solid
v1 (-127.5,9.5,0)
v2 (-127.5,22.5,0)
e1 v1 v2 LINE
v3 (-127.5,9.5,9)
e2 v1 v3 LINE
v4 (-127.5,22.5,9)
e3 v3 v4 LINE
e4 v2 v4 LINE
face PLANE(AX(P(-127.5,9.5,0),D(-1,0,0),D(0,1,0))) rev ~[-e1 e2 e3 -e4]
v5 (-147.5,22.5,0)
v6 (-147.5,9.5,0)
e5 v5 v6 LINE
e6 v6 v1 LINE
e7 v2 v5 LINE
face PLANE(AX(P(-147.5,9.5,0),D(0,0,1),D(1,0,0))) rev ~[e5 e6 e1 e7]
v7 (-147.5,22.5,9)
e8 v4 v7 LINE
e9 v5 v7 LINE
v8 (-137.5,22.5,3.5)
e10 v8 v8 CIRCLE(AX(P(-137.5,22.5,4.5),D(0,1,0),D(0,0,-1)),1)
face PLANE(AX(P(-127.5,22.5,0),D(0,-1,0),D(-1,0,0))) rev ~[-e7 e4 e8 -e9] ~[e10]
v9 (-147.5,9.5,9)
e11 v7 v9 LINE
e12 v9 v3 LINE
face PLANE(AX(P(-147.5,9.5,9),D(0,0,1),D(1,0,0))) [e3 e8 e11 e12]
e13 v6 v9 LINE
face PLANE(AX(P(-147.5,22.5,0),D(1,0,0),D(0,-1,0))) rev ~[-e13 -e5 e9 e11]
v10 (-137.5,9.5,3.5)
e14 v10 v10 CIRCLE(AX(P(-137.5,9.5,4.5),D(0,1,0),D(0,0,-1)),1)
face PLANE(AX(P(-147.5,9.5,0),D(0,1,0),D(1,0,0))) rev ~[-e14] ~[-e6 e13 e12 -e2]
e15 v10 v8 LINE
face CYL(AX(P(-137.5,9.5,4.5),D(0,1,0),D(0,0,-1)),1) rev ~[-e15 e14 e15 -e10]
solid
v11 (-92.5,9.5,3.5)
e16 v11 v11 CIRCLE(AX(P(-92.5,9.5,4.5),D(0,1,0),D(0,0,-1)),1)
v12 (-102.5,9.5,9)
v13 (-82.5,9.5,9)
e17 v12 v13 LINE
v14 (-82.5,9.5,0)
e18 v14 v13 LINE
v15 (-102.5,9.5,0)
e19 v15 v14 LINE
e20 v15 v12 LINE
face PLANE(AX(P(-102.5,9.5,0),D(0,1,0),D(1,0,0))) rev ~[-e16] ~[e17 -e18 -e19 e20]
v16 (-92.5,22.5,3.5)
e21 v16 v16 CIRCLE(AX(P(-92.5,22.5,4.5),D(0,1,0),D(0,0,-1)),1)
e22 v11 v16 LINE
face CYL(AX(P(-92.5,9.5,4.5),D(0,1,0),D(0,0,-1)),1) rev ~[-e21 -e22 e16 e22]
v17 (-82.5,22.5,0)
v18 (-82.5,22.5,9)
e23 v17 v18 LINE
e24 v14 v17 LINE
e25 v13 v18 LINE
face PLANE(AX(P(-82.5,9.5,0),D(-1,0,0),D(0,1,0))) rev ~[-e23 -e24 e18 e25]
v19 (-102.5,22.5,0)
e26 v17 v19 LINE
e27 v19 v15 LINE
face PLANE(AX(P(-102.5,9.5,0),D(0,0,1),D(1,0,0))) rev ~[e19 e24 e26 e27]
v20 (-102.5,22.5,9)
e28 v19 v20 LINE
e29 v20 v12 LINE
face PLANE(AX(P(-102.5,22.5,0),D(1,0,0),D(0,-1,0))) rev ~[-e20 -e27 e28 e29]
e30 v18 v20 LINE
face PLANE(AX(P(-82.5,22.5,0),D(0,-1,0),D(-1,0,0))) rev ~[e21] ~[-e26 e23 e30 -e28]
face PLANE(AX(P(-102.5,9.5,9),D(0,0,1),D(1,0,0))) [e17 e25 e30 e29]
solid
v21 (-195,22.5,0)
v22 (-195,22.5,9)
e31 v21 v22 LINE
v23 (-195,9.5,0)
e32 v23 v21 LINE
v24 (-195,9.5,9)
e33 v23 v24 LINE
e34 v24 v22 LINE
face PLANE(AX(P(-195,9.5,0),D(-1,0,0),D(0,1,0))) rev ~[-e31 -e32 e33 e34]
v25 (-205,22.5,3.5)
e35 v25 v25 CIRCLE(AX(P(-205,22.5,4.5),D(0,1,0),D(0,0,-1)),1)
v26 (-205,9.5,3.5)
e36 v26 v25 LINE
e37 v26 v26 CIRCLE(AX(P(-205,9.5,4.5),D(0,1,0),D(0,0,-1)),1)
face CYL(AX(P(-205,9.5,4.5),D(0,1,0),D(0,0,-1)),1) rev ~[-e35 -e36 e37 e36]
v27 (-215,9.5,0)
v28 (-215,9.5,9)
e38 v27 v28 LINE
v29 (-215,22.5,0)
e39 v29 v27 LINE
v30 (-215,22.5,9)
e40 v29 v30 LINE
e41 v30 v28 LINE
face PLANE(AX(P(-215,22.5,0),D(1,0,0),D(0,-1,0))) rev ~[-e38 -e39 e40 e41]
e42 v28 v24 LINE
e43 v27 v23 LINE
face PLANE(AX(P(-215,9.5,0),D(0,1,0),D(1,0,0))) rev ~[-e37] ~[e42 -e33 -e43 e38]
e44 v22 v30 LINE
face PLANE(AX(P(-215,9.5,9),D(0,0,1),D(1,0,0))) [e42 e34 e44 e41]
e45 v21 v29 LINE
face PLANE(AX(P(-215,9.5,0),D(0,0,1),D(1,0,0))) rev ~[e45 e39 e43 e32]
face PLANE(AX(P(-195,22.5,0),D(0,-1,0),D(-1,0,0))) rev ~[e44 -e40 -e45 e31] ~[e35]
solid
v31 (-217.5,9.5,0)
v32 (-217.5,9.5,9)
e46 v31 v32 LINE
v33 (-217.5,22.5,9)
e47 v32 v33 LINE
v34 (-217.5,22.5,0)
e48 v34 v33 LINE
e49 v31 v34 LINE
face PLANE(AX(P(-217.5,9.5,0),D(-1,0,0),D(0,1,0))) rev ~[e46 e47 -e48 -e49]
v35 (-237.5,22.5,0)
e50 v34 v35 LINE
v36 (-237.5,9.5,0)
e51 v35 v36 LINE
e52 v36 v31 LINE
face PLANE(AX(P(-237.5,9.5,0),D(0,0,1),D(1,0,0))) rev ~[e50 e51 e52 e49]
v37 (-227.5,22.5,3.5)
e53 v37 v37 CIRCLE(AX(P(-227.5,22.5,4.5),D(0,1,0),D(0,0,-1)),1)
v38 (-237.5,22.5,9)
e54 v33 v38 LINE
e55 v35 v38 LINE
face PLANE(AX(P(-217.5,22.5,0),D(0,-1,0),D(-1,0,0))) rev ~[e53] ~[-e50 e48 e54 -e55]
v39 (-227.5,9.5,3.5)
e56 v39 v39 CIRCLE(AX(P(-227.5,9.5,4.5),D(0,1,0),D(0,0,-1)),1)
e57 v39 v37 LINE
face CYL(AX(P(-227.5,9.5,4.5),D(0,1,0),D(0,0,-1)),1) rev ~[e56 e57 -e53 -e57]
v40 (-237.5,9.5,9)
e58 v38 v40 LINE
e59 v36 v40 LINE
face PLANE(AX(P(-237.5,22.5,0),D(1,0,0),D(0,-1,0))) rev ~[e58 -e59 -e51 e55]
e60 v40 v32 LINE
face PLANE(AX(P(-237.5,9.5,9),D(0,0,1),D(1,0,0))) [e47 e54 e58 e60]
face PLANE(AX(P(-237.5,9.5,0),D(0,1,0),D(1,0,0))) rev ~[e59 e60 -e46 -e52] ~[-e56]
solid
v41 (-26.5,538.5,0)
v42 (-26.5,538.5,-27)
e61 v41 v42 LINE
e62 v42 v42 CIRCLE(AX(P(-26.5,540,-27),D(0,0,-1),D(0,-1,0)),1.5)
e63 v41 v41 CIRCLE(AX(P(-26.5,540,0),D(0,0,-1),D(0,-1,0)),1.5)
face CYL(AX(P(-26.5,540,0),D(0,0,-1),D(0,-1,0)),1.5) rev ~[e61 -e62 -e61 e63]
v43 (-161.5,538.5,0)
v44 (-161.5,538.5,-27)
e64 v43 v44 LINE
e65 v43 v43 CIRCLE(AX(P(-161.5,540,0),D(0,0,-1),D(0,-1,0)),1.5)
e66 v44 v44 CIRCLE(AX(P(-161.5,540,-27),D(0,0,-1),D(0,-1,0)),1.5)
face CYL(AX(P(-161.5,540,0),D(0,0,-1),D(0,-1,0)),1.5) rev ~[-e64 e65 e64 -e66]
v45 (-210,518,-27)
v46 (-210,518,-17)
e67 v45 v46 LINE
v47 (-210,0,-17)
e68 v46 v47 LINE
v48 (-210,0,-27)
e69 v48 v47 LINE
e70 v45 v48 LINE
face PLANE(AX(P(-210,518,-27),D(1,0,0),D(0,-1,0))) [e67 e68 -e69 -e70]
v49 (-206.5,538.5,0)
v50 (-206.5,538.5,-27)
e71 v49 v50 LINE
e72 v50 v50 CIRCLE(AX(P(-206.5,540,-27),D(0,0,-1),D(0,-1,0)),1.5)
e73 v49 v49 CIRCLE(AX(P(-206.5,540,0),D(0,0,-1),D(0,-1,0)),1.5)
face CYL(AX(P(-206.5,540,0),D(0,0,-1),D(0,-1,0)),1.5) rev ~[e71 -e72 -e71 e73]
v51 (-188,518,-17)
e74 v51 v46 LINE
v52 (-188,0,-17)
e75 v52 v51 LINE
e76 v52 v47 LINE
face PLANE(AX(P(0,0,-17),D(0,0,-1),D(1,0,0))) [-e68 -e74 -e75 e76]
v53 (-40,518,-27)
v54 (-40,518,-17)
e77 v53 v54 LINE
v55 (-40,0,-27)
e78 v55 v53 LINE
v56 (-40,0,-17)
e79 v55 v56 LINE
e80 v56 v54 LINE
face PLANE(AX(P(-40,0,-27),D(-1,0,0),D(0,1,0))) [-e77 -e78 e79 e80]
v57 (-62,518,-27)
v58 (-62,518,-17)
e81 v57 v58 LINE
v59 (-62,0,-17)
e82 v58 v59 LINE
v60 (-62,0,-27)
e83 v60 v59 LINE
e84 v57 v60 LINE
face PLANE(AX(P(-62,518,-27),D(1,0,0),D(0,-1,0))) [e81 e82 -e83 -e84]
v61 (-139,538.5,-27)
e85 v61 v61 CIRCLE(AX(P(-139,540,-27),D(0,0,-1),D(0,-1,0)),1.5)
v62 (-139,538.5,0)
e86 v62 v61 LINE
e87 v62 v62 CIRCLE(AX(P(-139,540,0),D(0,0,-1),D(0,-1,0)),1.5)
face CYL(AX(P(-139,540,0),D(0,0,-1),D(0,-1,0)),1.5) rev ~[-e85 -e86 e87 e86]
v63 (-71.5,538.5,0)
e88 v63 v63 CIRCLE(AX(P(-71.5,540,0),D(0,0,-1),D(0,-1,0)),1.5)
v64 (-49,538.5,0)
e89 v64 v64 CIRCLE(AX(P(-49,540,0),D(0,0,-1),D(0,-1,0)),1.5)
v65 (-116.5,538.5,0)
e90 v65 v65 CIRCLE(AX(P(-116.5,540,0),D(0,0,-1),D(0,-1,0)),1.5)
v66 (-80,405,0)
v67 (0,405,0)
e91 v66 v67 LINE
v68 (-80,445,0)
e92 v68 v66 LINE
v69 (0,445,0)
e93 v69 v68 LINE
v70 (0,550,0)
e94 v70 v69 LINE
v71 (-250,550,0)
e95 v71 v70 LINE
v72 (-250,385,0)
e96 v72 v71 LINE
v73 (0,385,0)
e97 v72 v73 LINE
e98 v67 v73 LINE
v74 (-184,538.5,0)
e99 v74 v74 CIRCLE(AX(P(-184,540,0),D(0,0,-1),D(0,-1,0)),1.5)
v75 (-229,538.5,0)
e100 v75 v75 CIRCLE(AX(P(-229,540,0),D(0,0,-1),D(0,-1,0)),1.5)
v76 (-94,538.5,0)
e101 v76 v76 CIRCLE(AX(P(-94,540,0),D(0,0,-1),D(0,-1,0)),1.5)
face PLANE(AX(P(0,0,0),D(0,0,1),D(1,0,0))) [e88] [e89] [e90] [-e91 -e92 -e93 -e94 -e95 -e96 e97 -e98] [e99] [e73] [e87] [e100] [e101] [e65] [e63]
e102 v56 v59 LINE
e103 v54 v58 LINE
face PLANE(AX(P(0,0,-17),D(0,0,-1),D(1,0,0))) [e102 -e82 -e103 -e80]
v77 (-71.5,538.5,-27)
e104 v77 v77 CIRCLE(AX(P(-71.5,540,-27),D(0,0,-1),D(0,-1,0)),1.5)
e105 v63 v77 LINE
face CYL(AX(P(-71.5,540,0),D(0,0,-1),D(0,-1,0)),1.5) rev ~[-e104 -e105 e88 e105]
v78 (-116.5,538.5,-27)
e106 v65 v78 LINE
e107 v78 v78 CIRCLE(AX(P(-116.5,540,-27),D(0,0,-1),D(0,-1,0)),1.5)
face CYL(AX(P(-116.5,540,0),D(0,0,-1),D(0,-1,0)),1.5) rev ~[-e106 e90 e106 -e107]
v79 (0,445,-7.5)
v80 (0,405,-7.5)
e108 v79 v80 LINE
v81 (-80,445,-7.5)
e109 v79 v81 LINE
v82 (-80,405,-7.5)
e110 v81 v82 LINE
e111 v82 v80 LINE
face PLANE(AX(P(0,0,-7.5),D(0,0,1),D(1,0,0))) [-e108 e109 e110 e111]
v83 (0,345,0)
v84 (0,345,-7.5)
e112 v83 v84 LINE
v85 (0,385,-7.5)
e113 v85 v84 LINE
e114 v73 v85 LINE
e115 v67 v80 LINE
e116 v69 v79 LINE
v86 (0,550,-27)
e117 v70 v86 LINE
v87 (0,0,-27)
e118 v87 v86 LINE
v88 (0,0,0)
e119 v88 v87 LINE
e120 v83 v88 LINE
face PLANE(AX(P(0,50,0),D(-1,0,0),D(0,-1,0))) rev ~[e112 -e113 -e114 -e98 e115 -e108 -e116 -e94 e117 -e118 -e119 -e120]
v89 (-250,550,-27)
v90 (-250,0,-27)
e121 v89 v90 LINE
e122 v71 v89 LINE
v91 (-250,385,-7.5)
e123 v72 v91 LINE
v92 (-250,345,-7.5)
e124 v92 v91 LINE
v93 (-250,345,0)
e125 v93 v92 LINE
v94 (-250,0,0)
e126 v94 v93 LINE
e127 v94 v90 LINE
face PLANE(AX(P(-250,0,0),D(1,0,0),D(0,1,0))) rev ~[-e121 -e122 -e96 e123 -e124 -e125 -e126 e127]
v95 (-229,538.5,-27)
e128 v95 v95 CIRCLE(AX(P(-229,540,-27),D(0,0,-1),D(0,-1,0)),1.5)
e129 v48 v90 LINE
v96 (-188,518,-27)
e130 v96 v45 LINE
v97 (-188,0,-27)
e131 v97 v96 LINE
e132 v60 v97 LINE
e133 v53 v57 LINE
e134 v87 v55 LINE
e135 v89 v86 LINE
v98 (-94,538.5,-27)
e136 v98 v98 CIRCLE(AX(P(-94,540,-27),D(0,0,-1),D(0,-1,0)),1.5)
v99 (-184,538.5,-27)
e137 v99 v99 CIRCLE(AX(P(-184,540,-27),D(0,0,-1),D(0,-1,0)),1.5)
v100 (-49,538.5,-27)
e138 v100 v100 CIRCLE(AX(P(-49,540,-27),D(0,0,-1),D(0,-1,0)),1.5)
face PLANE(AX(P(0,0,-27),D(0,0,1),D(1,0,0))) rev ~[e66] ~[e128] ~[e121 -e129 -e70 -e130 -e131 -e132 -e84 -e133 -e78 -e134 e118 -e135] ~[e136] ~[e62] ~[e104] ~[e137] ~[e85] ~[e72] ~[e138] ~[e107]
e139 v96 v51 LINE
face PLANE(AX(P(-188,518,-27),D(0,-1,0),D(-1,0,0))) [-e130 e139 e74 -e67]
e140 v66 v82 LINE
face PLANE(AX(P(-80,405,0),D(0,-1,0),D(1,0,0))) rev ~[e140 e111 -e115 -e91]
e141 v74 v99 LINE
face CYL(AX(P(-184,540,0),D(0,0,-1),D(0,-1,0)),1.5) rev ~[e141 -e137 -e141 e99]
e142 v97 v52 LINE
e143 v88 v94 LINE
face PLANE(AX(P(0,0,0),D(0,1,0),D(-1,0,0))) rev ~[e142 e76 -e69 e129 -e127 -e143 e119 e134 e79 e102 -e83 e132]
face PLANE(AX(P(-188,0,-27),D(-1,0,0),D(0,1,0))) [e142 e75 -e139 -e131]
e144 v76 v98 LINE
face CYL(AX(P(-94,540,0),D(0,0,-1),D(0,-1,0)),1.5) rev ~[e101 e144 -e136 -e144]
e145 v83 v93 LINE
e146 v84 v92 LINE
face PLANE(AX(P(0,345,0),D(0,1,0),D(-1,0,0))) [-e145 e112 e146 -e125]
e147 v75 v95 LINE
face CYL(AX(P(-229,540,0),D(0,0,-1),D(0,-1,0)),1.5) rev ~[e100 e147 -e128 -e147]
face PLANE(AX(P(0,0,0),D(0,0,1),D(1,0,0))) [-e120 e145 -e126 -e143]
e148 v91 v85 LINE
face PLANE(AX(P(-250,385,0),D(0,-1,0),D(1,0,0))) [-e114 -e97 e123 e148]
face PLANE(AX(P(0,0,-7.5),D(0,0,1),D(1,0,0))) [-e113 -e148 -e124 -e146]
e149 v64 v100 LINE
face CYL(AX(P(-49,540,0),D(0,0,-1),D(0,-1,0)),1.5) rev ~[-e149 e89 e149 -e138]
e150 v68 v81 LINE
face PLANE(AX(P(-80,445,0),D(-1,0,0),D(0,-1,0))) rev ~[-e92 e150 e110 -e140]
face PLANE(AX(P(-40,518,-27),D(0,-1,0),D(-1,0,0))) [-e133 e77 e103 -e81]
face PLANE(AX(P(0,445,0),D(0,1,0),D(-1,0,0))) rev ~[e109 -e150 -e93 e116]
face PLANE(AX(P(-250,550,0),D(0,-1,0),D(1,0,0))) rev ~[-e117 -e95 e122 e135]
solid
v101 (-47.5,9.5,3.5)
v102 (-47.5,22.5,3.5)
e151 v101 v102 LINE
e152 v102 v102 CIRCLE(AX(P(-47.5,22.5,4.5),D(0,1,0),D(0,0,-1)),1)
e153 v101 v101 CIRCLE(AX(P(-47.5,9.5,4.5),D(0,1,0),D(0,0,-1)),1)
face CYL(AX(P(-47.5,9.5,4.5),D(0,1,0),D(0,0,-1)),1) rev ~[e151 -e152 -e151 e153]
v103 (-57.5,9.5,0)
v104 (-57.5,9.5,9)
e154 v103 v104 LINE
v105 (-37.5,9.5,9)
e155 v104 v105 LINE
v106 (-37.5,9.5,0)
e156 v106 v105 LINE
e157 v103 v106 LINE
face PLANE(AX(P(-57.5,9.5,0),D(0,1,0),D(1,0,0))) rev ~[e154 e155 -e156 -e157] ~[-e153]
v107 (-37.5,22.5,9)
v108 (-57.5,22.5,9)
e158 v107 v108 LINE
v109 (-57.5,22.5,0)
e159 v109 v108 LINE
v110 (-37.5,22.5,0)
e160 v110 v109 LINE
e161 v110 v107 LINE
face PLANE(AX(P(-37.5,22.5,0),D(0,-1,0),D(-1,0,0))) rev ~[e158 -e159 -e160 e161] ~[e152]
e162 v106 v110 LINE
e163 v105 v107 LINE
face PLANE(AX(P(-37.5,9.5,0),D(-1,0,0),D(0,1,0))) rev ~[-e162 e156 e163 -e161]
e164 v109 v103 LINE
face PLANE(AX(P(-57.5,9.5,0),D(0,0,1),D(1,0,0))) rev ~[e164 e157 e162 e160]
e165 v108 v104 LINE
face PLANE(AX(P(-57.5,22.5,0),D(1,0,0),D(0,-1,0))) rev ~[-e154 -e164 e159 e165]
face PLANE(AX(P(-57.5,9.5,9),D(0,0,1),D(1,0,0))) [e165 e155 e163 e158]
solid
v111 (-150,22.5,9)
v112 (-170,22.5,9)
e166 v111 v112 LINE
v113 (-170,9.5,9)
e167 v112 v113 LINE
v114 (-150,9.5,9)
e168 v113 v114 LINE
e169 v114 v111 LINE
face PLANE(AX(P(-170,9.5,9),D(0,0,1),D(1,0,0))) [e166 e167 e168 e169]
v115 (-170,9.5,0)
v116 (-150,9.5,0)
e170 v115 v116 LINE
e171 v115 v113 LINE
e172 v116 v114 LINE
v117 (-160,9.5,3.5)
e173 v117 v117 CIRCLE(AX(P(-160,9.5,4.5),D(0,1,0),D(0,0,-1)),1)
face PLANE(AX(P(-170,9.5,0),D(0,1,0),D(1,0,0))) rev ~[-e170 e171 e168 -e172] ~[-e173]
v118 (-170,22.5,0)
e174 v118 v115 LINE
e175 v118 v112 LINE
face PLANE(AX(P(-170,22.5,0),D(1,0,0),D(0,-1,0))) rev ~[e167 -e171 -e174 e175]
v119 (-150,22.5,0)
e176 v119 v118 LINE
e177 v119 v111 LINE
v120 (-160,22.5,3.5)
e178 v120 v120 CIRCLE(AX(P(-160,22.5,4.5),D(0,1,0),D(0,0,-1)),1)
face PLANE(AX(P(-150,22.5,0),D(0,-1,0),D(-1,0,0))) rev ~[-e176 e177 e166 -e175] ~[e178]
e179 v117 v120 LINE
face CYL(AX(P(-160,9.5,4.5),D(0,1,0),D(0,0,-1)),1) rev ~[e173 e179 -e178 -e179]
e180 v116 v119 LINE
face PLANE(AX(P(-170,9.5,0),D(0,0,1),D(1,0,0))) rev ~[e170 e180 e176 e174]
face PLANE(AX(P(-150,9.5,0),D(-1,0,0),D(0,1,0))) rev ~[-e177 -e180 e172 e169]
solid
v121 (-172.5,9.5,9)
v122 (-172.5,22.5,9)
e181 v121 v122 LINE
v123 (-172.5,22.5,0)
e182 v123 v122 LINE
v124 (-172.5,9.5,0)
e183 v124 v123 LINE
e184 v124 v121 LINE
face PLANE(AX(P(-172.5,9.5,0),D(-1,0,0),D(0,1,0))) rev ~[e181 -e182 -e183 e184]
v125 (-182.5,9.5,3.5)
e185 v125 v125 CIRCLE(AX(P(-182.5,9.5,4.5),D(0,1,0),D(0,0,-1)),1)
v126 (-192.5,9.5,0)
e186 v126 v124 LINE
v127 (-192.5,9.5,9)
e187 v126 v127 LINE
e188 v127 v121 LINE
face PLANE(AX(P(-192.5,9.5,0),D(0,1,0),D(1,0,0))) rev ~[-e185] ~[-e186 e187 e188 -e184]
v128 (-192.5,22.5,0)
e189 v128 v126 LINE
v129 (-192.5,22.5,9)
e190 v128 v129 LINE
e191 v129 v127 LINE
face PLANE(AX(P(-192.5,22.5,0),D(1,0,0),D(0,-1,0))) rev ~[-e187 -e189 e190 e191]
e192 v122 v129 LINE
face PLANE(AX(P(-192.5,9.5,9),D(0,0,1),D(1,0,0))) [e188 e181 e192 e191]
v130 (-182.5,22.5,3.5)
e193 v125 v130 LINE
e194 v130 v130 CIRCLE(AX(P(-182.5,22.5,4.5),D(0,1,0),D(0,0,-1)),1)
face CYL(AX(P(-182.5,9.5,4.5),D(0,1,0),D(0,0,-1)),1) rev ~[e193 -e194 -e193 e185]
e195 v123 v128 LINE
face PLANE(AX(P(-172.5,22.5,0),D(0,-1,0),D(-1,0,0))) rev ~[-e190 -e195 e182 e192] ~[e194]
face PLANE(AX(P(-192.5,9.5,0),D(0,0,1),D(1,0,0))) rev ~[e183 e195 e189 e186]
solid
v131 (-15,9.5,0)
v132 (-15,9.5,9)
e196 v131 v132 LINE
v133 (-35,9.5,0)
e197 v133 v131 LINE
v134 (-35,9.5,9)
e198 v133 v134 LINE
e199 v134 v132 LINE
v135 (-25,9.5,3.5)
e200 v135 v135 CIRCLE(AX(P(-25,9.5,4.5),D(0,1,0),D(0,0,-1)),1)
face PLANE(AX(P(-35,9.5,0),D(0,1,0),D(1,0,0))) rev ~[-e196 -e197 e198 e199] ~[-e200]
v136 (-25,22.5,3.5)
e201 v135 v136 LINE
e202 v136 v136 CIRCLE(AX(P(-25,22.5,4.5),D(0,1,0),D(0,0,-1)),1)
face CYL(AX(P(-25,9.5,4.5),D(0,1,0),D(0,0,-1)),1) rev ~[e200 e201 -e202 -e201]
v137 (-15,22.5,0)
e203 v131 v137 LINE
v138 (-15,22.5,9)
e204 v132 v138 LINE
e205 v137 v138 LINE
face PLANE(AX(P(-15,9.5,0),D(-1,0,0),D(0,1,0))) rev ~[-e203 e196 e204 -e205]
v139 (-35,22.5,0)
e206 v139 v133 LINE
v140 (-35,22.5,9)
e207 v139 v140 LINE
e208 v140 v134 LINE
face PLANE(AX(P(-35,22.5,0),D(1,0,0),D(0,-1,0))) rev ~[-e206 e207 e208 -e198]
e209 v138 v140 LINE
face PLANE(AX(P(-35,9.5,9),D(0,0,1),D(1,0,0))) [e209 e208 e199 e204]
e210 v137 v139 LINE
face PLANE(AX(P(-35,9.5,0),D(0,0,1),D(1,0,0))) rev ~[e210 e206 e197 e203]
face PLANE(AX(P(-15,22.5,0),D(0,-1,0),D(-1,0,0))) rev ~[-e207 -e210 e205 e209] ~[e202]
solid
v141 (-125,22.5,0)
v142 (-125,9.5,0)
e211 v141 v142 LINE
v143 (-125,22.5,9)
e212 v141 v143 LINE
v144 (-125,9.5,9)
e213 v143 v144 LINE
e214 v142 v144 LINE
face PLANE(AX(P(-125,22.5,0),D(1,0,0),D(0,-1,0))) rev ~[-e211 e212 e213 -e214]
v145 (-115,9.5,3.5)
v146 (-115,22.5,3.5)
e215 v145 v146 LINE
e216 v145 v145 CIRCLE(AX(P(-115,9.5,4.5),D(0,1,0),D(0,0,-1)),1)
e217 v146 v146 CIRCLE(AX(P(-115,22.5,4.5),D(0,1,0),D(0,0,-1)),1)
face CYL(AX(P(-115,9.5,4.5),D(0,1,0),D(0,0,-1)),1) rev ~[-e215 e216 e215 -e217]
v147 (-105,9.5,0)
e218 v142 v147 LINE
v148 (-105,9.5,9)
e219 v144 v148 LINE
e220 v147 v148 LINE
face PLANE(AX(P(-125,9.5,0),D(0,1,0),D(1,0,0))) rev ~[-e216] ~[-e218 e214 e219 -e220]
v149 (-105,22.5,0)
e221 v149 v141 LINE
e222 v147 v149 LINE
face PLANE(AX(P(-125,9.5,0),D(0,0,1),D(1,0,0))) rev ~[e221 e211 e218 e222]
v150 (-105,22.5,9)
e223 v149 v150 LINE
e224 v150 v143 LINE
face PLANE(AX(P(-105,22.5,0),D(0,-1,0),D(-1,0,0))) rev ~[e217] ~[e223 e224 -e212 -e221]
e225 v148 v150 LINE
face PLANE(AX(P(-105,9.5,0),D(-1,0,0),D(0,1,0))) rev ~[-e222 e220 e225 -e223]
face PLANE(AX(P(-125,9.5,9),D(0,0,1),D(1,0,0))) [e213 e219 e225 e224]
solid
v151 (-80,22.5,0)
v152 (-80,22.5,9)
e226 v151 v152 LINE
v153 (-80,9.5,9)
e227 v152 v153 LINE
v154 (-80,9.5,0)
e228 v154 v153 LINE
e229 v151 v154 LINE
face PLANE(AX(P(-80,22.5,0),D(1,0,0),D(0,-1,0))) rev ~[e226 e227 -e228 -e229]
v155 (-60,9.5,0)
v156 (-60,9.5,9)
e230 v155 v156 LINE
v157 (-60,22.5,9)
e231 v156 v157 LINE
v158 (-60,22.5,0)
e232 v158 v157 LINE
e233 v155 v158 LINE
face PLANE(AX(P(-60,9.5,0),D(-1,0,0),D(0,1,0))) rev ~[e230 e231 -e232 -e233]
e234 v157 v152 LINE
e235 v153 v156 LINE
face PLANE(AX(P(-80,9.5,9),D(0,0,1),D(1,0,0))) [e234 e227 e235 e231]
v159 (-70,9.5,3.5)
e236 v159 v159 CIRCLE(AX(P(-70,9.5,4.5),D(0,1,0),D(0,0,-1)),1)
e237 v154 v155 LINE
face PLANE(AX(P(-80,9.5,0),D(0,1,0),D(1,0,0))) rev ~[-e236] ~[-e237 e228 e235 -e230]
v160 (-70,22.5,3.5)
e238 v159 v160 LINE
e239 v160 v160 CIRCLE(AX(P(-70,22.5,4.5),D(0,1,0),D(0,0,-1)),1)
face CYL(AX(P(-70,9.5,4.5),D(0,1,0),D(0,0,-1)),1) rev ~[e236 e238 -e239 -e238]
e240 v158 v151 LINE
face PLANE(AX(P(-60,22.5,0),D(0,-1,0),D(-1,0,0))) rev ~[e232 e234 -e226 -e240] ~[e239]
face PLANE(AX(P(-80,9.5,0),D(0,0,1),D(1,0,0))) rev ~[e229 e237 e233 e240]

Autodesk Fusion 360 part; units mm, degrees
sketch "Sketch1" plane through (0, 0, 0) normal (0, 0, 1) x (1, 0, 0)
  line L0 (0, 0) -> (-250, 0)
  line L1 (-250, 0) -> (-250, 550)
  line L2 (-250, 550) -> (0, 550)
  line L3 (0, 550) -> (0, 0)
  line L4 (-250, 385) -> (0, 385)
  line L5 (0, 385) -> (0, 345)
  line L6 (0, 345) -> (-250, 345)
  line L7 (-250, 345) -> (-250, 385)
  line L8 (-250, 60) -> (0, 60)
  line L9 (0, 60) -> (0, 50)
  line L10 (0, 50) -> (-250, 50)
  line L11 (-250, 50) -> (-250, 60)
  line L12 (-250, 510) -> (0, 510)
  line L13 (0, 510) -> (0, 500)
  line L14 (0, 500) -> (-250, 500)
  line L15 (-250, 500) -> (-250, 510)
  line L16 (-250, 84.695) -> (0, 84.695) construction
  line L17 (-250, 108.004) -> (0, 108.004) construction
  line L18 (-250, 130.005) -> (0, 130.005) construction
  line L19 (-250, 150.771) -> (0, 150.771) construction
  line L20 (-250, 170.372) -> (0, 170.372) construction
  line L21 (-250, 188.873) -> (0, 188.873) construction
  line L22 (-250, 206.335) -> (0, 206.335) construction
  line L23 (-250, 222.817) -> (0, 222.817) construction
  line L24 (-250, 238.374) -> (0, 238.374) construction
  line L25 (-250, 253.058) -> (0, 253.058) construction
  line L26 (-250, 266.918) -> (0, 266.918) construction
  line L27 (0, 445) -> (-80, 445)
  line L28 (-80, 445) -> (-80, 405)
  line L29 (-80, 405) -> (0, 405)
  line L30 (0, 405) -> (0, 445)
  point P0 (-229, 540)
  point P1 (-206.5, 540)
  point P2 (-184, 540)
  point P3 (-161.5, 540)
  point P4 (-139, 540)
  point P5 (-116.5, 540)
  point P6 (-94, 540)
  point P7 (-71.5, 540)
  point P8 (-49, 540)
  point P9 (-26.5, 540)
  dimension "d1" = 250
  dimension "d2" = 550
  dimension "d3" = 21
  dimension "d6" = 22.5
  dimension "d7" = -525
  dimension "d41" = 10
  dimension "d42" = 165
  dimension "d43" = 40
  dimension "d44" = 60
  dimension "d45" = 10
  dimension "d46" = 40
  dimension "d47" = 10
  dimension "d48" = 24.695
  dimension "d49" = 23.309
  dimension "d50" = 22.001
  dimension "d51" = 20.766
  dimension "d52" = 19.601
  dimension "d53" = 18.501
  dimension "d54" = 17.462
  dimension "d55" = 16.482
  dimension "d56" = 15.557
  dimension "d57" = 14.684
  dimension "d58" = 13.86
  dimension "d60" = 20
  dimension "d61" = 40
  dimension "d62" = 80
extrude "Extrude1" add sketch "Sketch1" against normal blind 27 makes body 1
extrude "Extrude5" cut sketch "Sketch1" against normal blind 7.5 contours L1 L3 L4 L5 L6 L7 | L3 L27 L28 L29 L30 bodies 1
hole "Hole2" at (-229, 540, 0) at (-206.5, 540, 0) at (-184, 540, 0) at (-161.5, 540, 0) at (-139, 540, 0) at (-116.5, 540, 0) at (-94, 540, 0) at (-71.5, 540, 0) at (-49, 540, 0) at (-26.5, 540, 0) direction (0, 0, -1) diameter 3 depth 1000 tip angle 118 bodies 1
sketch "Sketch1 (2)" plane through (0, 0, 0) normal (0, 0, 1) x (1, 0, 0) in component "bridge piece"
  line L0 (0, 0) -> (20, 0)
  line L1 (20, 0) -> (20, 13)
  line L2 (20, 13) -> (0, 13)
  line L3 (0, 13) -> (0, 0)
  dimension "d69" = 20
  dimension "d70" = 13
extrude "Extrude1'" add sketch "Sketch1 (2)" along normal blind 9 separate body makes body 2 in component "bridge piece"
sketch "Sketch2" plane through (0, 0, 0) normal (0, -1, 0) x (1, 0, 0) in component "bridge piece"
  line L0 (0, 0) -> (20, 0)
  line L1 (20, 0) -> (20, 9)
  line L2 (20, 9) -> (0, 9)
  line L3 (0, 9) -> (0, 0)
  point P0 (10, 4.5)
  dimension "d73" = 4.5
  dimension "d74" = 10
hole "Hole1" at (10, 0, 4.5) direction (0, 1, 0) diameter 2 depth 100 tip angle 118 bodies 2 in component "bridge piece"
sketch "Sketch4" plane through (0, 0, 0) normal (0, 0, 1) x (1, 0, 0)
  line L0 (-227.5, 540) -> (-227.5, 16) construction
  circle A0 centre (-229, 540) radius 1.5
  point P0 (-227.5, 16)
  point P1 (-205, 16)
  point P2 (-182.5, 16)
  point P3 (-160, 16)
  point P4 (-137.5, 16)
  point P5 (-115, 16)
  point P6 (-92.5, 16)
  point P7 (-70, 16)
  point P8 (-47.5, 16)
  point P9 (-25, 16)
  dimension "d78" = 524
  dimension "d81" = 22.5
  dimension "d82" = 0
pattern_linear "R-Pattern1" count 10 spacing 22.5 along (1, 0, 0) of bodies 2 makes body 3 at (29.1667, 8.6667, 0) makes body 4 at (51.6667, 8.6667, 0) makes body 5 at (74.1667, 8.6667, 0) makes body 6 at (96.6667, 8.6667, 0) makes body 7 at (119.1667, 8.6667, 0) makes body 8 at (141.6667, 8.6667, 0) makes body 9 at (164.1667, 8.6667, 0) makes body 10 at (186.6667, 8.6667, 0) makes body 11 at (209.1667, 8.6667, 0) in component "bridge piece"
sketch "Sketch5" plane through (0, 0, -27) normal (0, 0, -1) x (1, 0, 0)
  circle A0 centre (-49, -540) radius 1.5
  circle A1 centre (-94, -540) radius 1.5
  circle A2 centre (-139, -540) radius 1.5
  circle A3 centre (-184, -540) radius 1.5
  circle A4 centre (-229, -540) radius 1.5
  circle A5 centre (-206.5, -540) radius 1.5
  circle A6 centre (-161.5, -540) radius 1.5
  circle A7 centre (-116.5, -540) radius 1.5
  circle A8 centre (-71.5, -540) radius 1.5
  circle A9 centre (-26.5, -540) radius 1.5
  line L0 (0, -550) -> (0, 0)
  line L1 (0, 0) -> (-250, 0)
  line L2 (-250, 0) -> (-250, -550)
  line L3 (-250, -550) -> (0, -550)
  line L4 (-210, 0) -> (-188, 0)
  line L5 (-188, 0) -> (-188, -518)
  line L6 (-188, -518) -> (-210, -518)
  line L7 (-210, -518) -> (-210, 0)
  line L8 (-62, 0) -> (-40, 0)
  line L9 (-40, 0) -> (-40, -518)
  line L10 (-40, -518) -> (-62, -518)
  line L11 (-62, -518) -> (-62, 0)
  dimension "d87" = 40
  dimension "d88" = 22
  dimension "d89" = 518
  dimension "d90" = 40
extrude "Extrude6" cut sketch "Sketch5" against normal blind 10 contours L1 L8 L9 L10 L11 | L1 L4 L5 L6 L7 bodies 1
component "bridge piece" placed x (1, 0, 0) y (0, 1, 0) z (0, 0, 1) at (-237.5, 9.5, 0)
component "Component" placed x (1, 0, 0) y (0, 1, 0) z (0, 0, 1) at (0, 0, 0) in component "bridge piece"
